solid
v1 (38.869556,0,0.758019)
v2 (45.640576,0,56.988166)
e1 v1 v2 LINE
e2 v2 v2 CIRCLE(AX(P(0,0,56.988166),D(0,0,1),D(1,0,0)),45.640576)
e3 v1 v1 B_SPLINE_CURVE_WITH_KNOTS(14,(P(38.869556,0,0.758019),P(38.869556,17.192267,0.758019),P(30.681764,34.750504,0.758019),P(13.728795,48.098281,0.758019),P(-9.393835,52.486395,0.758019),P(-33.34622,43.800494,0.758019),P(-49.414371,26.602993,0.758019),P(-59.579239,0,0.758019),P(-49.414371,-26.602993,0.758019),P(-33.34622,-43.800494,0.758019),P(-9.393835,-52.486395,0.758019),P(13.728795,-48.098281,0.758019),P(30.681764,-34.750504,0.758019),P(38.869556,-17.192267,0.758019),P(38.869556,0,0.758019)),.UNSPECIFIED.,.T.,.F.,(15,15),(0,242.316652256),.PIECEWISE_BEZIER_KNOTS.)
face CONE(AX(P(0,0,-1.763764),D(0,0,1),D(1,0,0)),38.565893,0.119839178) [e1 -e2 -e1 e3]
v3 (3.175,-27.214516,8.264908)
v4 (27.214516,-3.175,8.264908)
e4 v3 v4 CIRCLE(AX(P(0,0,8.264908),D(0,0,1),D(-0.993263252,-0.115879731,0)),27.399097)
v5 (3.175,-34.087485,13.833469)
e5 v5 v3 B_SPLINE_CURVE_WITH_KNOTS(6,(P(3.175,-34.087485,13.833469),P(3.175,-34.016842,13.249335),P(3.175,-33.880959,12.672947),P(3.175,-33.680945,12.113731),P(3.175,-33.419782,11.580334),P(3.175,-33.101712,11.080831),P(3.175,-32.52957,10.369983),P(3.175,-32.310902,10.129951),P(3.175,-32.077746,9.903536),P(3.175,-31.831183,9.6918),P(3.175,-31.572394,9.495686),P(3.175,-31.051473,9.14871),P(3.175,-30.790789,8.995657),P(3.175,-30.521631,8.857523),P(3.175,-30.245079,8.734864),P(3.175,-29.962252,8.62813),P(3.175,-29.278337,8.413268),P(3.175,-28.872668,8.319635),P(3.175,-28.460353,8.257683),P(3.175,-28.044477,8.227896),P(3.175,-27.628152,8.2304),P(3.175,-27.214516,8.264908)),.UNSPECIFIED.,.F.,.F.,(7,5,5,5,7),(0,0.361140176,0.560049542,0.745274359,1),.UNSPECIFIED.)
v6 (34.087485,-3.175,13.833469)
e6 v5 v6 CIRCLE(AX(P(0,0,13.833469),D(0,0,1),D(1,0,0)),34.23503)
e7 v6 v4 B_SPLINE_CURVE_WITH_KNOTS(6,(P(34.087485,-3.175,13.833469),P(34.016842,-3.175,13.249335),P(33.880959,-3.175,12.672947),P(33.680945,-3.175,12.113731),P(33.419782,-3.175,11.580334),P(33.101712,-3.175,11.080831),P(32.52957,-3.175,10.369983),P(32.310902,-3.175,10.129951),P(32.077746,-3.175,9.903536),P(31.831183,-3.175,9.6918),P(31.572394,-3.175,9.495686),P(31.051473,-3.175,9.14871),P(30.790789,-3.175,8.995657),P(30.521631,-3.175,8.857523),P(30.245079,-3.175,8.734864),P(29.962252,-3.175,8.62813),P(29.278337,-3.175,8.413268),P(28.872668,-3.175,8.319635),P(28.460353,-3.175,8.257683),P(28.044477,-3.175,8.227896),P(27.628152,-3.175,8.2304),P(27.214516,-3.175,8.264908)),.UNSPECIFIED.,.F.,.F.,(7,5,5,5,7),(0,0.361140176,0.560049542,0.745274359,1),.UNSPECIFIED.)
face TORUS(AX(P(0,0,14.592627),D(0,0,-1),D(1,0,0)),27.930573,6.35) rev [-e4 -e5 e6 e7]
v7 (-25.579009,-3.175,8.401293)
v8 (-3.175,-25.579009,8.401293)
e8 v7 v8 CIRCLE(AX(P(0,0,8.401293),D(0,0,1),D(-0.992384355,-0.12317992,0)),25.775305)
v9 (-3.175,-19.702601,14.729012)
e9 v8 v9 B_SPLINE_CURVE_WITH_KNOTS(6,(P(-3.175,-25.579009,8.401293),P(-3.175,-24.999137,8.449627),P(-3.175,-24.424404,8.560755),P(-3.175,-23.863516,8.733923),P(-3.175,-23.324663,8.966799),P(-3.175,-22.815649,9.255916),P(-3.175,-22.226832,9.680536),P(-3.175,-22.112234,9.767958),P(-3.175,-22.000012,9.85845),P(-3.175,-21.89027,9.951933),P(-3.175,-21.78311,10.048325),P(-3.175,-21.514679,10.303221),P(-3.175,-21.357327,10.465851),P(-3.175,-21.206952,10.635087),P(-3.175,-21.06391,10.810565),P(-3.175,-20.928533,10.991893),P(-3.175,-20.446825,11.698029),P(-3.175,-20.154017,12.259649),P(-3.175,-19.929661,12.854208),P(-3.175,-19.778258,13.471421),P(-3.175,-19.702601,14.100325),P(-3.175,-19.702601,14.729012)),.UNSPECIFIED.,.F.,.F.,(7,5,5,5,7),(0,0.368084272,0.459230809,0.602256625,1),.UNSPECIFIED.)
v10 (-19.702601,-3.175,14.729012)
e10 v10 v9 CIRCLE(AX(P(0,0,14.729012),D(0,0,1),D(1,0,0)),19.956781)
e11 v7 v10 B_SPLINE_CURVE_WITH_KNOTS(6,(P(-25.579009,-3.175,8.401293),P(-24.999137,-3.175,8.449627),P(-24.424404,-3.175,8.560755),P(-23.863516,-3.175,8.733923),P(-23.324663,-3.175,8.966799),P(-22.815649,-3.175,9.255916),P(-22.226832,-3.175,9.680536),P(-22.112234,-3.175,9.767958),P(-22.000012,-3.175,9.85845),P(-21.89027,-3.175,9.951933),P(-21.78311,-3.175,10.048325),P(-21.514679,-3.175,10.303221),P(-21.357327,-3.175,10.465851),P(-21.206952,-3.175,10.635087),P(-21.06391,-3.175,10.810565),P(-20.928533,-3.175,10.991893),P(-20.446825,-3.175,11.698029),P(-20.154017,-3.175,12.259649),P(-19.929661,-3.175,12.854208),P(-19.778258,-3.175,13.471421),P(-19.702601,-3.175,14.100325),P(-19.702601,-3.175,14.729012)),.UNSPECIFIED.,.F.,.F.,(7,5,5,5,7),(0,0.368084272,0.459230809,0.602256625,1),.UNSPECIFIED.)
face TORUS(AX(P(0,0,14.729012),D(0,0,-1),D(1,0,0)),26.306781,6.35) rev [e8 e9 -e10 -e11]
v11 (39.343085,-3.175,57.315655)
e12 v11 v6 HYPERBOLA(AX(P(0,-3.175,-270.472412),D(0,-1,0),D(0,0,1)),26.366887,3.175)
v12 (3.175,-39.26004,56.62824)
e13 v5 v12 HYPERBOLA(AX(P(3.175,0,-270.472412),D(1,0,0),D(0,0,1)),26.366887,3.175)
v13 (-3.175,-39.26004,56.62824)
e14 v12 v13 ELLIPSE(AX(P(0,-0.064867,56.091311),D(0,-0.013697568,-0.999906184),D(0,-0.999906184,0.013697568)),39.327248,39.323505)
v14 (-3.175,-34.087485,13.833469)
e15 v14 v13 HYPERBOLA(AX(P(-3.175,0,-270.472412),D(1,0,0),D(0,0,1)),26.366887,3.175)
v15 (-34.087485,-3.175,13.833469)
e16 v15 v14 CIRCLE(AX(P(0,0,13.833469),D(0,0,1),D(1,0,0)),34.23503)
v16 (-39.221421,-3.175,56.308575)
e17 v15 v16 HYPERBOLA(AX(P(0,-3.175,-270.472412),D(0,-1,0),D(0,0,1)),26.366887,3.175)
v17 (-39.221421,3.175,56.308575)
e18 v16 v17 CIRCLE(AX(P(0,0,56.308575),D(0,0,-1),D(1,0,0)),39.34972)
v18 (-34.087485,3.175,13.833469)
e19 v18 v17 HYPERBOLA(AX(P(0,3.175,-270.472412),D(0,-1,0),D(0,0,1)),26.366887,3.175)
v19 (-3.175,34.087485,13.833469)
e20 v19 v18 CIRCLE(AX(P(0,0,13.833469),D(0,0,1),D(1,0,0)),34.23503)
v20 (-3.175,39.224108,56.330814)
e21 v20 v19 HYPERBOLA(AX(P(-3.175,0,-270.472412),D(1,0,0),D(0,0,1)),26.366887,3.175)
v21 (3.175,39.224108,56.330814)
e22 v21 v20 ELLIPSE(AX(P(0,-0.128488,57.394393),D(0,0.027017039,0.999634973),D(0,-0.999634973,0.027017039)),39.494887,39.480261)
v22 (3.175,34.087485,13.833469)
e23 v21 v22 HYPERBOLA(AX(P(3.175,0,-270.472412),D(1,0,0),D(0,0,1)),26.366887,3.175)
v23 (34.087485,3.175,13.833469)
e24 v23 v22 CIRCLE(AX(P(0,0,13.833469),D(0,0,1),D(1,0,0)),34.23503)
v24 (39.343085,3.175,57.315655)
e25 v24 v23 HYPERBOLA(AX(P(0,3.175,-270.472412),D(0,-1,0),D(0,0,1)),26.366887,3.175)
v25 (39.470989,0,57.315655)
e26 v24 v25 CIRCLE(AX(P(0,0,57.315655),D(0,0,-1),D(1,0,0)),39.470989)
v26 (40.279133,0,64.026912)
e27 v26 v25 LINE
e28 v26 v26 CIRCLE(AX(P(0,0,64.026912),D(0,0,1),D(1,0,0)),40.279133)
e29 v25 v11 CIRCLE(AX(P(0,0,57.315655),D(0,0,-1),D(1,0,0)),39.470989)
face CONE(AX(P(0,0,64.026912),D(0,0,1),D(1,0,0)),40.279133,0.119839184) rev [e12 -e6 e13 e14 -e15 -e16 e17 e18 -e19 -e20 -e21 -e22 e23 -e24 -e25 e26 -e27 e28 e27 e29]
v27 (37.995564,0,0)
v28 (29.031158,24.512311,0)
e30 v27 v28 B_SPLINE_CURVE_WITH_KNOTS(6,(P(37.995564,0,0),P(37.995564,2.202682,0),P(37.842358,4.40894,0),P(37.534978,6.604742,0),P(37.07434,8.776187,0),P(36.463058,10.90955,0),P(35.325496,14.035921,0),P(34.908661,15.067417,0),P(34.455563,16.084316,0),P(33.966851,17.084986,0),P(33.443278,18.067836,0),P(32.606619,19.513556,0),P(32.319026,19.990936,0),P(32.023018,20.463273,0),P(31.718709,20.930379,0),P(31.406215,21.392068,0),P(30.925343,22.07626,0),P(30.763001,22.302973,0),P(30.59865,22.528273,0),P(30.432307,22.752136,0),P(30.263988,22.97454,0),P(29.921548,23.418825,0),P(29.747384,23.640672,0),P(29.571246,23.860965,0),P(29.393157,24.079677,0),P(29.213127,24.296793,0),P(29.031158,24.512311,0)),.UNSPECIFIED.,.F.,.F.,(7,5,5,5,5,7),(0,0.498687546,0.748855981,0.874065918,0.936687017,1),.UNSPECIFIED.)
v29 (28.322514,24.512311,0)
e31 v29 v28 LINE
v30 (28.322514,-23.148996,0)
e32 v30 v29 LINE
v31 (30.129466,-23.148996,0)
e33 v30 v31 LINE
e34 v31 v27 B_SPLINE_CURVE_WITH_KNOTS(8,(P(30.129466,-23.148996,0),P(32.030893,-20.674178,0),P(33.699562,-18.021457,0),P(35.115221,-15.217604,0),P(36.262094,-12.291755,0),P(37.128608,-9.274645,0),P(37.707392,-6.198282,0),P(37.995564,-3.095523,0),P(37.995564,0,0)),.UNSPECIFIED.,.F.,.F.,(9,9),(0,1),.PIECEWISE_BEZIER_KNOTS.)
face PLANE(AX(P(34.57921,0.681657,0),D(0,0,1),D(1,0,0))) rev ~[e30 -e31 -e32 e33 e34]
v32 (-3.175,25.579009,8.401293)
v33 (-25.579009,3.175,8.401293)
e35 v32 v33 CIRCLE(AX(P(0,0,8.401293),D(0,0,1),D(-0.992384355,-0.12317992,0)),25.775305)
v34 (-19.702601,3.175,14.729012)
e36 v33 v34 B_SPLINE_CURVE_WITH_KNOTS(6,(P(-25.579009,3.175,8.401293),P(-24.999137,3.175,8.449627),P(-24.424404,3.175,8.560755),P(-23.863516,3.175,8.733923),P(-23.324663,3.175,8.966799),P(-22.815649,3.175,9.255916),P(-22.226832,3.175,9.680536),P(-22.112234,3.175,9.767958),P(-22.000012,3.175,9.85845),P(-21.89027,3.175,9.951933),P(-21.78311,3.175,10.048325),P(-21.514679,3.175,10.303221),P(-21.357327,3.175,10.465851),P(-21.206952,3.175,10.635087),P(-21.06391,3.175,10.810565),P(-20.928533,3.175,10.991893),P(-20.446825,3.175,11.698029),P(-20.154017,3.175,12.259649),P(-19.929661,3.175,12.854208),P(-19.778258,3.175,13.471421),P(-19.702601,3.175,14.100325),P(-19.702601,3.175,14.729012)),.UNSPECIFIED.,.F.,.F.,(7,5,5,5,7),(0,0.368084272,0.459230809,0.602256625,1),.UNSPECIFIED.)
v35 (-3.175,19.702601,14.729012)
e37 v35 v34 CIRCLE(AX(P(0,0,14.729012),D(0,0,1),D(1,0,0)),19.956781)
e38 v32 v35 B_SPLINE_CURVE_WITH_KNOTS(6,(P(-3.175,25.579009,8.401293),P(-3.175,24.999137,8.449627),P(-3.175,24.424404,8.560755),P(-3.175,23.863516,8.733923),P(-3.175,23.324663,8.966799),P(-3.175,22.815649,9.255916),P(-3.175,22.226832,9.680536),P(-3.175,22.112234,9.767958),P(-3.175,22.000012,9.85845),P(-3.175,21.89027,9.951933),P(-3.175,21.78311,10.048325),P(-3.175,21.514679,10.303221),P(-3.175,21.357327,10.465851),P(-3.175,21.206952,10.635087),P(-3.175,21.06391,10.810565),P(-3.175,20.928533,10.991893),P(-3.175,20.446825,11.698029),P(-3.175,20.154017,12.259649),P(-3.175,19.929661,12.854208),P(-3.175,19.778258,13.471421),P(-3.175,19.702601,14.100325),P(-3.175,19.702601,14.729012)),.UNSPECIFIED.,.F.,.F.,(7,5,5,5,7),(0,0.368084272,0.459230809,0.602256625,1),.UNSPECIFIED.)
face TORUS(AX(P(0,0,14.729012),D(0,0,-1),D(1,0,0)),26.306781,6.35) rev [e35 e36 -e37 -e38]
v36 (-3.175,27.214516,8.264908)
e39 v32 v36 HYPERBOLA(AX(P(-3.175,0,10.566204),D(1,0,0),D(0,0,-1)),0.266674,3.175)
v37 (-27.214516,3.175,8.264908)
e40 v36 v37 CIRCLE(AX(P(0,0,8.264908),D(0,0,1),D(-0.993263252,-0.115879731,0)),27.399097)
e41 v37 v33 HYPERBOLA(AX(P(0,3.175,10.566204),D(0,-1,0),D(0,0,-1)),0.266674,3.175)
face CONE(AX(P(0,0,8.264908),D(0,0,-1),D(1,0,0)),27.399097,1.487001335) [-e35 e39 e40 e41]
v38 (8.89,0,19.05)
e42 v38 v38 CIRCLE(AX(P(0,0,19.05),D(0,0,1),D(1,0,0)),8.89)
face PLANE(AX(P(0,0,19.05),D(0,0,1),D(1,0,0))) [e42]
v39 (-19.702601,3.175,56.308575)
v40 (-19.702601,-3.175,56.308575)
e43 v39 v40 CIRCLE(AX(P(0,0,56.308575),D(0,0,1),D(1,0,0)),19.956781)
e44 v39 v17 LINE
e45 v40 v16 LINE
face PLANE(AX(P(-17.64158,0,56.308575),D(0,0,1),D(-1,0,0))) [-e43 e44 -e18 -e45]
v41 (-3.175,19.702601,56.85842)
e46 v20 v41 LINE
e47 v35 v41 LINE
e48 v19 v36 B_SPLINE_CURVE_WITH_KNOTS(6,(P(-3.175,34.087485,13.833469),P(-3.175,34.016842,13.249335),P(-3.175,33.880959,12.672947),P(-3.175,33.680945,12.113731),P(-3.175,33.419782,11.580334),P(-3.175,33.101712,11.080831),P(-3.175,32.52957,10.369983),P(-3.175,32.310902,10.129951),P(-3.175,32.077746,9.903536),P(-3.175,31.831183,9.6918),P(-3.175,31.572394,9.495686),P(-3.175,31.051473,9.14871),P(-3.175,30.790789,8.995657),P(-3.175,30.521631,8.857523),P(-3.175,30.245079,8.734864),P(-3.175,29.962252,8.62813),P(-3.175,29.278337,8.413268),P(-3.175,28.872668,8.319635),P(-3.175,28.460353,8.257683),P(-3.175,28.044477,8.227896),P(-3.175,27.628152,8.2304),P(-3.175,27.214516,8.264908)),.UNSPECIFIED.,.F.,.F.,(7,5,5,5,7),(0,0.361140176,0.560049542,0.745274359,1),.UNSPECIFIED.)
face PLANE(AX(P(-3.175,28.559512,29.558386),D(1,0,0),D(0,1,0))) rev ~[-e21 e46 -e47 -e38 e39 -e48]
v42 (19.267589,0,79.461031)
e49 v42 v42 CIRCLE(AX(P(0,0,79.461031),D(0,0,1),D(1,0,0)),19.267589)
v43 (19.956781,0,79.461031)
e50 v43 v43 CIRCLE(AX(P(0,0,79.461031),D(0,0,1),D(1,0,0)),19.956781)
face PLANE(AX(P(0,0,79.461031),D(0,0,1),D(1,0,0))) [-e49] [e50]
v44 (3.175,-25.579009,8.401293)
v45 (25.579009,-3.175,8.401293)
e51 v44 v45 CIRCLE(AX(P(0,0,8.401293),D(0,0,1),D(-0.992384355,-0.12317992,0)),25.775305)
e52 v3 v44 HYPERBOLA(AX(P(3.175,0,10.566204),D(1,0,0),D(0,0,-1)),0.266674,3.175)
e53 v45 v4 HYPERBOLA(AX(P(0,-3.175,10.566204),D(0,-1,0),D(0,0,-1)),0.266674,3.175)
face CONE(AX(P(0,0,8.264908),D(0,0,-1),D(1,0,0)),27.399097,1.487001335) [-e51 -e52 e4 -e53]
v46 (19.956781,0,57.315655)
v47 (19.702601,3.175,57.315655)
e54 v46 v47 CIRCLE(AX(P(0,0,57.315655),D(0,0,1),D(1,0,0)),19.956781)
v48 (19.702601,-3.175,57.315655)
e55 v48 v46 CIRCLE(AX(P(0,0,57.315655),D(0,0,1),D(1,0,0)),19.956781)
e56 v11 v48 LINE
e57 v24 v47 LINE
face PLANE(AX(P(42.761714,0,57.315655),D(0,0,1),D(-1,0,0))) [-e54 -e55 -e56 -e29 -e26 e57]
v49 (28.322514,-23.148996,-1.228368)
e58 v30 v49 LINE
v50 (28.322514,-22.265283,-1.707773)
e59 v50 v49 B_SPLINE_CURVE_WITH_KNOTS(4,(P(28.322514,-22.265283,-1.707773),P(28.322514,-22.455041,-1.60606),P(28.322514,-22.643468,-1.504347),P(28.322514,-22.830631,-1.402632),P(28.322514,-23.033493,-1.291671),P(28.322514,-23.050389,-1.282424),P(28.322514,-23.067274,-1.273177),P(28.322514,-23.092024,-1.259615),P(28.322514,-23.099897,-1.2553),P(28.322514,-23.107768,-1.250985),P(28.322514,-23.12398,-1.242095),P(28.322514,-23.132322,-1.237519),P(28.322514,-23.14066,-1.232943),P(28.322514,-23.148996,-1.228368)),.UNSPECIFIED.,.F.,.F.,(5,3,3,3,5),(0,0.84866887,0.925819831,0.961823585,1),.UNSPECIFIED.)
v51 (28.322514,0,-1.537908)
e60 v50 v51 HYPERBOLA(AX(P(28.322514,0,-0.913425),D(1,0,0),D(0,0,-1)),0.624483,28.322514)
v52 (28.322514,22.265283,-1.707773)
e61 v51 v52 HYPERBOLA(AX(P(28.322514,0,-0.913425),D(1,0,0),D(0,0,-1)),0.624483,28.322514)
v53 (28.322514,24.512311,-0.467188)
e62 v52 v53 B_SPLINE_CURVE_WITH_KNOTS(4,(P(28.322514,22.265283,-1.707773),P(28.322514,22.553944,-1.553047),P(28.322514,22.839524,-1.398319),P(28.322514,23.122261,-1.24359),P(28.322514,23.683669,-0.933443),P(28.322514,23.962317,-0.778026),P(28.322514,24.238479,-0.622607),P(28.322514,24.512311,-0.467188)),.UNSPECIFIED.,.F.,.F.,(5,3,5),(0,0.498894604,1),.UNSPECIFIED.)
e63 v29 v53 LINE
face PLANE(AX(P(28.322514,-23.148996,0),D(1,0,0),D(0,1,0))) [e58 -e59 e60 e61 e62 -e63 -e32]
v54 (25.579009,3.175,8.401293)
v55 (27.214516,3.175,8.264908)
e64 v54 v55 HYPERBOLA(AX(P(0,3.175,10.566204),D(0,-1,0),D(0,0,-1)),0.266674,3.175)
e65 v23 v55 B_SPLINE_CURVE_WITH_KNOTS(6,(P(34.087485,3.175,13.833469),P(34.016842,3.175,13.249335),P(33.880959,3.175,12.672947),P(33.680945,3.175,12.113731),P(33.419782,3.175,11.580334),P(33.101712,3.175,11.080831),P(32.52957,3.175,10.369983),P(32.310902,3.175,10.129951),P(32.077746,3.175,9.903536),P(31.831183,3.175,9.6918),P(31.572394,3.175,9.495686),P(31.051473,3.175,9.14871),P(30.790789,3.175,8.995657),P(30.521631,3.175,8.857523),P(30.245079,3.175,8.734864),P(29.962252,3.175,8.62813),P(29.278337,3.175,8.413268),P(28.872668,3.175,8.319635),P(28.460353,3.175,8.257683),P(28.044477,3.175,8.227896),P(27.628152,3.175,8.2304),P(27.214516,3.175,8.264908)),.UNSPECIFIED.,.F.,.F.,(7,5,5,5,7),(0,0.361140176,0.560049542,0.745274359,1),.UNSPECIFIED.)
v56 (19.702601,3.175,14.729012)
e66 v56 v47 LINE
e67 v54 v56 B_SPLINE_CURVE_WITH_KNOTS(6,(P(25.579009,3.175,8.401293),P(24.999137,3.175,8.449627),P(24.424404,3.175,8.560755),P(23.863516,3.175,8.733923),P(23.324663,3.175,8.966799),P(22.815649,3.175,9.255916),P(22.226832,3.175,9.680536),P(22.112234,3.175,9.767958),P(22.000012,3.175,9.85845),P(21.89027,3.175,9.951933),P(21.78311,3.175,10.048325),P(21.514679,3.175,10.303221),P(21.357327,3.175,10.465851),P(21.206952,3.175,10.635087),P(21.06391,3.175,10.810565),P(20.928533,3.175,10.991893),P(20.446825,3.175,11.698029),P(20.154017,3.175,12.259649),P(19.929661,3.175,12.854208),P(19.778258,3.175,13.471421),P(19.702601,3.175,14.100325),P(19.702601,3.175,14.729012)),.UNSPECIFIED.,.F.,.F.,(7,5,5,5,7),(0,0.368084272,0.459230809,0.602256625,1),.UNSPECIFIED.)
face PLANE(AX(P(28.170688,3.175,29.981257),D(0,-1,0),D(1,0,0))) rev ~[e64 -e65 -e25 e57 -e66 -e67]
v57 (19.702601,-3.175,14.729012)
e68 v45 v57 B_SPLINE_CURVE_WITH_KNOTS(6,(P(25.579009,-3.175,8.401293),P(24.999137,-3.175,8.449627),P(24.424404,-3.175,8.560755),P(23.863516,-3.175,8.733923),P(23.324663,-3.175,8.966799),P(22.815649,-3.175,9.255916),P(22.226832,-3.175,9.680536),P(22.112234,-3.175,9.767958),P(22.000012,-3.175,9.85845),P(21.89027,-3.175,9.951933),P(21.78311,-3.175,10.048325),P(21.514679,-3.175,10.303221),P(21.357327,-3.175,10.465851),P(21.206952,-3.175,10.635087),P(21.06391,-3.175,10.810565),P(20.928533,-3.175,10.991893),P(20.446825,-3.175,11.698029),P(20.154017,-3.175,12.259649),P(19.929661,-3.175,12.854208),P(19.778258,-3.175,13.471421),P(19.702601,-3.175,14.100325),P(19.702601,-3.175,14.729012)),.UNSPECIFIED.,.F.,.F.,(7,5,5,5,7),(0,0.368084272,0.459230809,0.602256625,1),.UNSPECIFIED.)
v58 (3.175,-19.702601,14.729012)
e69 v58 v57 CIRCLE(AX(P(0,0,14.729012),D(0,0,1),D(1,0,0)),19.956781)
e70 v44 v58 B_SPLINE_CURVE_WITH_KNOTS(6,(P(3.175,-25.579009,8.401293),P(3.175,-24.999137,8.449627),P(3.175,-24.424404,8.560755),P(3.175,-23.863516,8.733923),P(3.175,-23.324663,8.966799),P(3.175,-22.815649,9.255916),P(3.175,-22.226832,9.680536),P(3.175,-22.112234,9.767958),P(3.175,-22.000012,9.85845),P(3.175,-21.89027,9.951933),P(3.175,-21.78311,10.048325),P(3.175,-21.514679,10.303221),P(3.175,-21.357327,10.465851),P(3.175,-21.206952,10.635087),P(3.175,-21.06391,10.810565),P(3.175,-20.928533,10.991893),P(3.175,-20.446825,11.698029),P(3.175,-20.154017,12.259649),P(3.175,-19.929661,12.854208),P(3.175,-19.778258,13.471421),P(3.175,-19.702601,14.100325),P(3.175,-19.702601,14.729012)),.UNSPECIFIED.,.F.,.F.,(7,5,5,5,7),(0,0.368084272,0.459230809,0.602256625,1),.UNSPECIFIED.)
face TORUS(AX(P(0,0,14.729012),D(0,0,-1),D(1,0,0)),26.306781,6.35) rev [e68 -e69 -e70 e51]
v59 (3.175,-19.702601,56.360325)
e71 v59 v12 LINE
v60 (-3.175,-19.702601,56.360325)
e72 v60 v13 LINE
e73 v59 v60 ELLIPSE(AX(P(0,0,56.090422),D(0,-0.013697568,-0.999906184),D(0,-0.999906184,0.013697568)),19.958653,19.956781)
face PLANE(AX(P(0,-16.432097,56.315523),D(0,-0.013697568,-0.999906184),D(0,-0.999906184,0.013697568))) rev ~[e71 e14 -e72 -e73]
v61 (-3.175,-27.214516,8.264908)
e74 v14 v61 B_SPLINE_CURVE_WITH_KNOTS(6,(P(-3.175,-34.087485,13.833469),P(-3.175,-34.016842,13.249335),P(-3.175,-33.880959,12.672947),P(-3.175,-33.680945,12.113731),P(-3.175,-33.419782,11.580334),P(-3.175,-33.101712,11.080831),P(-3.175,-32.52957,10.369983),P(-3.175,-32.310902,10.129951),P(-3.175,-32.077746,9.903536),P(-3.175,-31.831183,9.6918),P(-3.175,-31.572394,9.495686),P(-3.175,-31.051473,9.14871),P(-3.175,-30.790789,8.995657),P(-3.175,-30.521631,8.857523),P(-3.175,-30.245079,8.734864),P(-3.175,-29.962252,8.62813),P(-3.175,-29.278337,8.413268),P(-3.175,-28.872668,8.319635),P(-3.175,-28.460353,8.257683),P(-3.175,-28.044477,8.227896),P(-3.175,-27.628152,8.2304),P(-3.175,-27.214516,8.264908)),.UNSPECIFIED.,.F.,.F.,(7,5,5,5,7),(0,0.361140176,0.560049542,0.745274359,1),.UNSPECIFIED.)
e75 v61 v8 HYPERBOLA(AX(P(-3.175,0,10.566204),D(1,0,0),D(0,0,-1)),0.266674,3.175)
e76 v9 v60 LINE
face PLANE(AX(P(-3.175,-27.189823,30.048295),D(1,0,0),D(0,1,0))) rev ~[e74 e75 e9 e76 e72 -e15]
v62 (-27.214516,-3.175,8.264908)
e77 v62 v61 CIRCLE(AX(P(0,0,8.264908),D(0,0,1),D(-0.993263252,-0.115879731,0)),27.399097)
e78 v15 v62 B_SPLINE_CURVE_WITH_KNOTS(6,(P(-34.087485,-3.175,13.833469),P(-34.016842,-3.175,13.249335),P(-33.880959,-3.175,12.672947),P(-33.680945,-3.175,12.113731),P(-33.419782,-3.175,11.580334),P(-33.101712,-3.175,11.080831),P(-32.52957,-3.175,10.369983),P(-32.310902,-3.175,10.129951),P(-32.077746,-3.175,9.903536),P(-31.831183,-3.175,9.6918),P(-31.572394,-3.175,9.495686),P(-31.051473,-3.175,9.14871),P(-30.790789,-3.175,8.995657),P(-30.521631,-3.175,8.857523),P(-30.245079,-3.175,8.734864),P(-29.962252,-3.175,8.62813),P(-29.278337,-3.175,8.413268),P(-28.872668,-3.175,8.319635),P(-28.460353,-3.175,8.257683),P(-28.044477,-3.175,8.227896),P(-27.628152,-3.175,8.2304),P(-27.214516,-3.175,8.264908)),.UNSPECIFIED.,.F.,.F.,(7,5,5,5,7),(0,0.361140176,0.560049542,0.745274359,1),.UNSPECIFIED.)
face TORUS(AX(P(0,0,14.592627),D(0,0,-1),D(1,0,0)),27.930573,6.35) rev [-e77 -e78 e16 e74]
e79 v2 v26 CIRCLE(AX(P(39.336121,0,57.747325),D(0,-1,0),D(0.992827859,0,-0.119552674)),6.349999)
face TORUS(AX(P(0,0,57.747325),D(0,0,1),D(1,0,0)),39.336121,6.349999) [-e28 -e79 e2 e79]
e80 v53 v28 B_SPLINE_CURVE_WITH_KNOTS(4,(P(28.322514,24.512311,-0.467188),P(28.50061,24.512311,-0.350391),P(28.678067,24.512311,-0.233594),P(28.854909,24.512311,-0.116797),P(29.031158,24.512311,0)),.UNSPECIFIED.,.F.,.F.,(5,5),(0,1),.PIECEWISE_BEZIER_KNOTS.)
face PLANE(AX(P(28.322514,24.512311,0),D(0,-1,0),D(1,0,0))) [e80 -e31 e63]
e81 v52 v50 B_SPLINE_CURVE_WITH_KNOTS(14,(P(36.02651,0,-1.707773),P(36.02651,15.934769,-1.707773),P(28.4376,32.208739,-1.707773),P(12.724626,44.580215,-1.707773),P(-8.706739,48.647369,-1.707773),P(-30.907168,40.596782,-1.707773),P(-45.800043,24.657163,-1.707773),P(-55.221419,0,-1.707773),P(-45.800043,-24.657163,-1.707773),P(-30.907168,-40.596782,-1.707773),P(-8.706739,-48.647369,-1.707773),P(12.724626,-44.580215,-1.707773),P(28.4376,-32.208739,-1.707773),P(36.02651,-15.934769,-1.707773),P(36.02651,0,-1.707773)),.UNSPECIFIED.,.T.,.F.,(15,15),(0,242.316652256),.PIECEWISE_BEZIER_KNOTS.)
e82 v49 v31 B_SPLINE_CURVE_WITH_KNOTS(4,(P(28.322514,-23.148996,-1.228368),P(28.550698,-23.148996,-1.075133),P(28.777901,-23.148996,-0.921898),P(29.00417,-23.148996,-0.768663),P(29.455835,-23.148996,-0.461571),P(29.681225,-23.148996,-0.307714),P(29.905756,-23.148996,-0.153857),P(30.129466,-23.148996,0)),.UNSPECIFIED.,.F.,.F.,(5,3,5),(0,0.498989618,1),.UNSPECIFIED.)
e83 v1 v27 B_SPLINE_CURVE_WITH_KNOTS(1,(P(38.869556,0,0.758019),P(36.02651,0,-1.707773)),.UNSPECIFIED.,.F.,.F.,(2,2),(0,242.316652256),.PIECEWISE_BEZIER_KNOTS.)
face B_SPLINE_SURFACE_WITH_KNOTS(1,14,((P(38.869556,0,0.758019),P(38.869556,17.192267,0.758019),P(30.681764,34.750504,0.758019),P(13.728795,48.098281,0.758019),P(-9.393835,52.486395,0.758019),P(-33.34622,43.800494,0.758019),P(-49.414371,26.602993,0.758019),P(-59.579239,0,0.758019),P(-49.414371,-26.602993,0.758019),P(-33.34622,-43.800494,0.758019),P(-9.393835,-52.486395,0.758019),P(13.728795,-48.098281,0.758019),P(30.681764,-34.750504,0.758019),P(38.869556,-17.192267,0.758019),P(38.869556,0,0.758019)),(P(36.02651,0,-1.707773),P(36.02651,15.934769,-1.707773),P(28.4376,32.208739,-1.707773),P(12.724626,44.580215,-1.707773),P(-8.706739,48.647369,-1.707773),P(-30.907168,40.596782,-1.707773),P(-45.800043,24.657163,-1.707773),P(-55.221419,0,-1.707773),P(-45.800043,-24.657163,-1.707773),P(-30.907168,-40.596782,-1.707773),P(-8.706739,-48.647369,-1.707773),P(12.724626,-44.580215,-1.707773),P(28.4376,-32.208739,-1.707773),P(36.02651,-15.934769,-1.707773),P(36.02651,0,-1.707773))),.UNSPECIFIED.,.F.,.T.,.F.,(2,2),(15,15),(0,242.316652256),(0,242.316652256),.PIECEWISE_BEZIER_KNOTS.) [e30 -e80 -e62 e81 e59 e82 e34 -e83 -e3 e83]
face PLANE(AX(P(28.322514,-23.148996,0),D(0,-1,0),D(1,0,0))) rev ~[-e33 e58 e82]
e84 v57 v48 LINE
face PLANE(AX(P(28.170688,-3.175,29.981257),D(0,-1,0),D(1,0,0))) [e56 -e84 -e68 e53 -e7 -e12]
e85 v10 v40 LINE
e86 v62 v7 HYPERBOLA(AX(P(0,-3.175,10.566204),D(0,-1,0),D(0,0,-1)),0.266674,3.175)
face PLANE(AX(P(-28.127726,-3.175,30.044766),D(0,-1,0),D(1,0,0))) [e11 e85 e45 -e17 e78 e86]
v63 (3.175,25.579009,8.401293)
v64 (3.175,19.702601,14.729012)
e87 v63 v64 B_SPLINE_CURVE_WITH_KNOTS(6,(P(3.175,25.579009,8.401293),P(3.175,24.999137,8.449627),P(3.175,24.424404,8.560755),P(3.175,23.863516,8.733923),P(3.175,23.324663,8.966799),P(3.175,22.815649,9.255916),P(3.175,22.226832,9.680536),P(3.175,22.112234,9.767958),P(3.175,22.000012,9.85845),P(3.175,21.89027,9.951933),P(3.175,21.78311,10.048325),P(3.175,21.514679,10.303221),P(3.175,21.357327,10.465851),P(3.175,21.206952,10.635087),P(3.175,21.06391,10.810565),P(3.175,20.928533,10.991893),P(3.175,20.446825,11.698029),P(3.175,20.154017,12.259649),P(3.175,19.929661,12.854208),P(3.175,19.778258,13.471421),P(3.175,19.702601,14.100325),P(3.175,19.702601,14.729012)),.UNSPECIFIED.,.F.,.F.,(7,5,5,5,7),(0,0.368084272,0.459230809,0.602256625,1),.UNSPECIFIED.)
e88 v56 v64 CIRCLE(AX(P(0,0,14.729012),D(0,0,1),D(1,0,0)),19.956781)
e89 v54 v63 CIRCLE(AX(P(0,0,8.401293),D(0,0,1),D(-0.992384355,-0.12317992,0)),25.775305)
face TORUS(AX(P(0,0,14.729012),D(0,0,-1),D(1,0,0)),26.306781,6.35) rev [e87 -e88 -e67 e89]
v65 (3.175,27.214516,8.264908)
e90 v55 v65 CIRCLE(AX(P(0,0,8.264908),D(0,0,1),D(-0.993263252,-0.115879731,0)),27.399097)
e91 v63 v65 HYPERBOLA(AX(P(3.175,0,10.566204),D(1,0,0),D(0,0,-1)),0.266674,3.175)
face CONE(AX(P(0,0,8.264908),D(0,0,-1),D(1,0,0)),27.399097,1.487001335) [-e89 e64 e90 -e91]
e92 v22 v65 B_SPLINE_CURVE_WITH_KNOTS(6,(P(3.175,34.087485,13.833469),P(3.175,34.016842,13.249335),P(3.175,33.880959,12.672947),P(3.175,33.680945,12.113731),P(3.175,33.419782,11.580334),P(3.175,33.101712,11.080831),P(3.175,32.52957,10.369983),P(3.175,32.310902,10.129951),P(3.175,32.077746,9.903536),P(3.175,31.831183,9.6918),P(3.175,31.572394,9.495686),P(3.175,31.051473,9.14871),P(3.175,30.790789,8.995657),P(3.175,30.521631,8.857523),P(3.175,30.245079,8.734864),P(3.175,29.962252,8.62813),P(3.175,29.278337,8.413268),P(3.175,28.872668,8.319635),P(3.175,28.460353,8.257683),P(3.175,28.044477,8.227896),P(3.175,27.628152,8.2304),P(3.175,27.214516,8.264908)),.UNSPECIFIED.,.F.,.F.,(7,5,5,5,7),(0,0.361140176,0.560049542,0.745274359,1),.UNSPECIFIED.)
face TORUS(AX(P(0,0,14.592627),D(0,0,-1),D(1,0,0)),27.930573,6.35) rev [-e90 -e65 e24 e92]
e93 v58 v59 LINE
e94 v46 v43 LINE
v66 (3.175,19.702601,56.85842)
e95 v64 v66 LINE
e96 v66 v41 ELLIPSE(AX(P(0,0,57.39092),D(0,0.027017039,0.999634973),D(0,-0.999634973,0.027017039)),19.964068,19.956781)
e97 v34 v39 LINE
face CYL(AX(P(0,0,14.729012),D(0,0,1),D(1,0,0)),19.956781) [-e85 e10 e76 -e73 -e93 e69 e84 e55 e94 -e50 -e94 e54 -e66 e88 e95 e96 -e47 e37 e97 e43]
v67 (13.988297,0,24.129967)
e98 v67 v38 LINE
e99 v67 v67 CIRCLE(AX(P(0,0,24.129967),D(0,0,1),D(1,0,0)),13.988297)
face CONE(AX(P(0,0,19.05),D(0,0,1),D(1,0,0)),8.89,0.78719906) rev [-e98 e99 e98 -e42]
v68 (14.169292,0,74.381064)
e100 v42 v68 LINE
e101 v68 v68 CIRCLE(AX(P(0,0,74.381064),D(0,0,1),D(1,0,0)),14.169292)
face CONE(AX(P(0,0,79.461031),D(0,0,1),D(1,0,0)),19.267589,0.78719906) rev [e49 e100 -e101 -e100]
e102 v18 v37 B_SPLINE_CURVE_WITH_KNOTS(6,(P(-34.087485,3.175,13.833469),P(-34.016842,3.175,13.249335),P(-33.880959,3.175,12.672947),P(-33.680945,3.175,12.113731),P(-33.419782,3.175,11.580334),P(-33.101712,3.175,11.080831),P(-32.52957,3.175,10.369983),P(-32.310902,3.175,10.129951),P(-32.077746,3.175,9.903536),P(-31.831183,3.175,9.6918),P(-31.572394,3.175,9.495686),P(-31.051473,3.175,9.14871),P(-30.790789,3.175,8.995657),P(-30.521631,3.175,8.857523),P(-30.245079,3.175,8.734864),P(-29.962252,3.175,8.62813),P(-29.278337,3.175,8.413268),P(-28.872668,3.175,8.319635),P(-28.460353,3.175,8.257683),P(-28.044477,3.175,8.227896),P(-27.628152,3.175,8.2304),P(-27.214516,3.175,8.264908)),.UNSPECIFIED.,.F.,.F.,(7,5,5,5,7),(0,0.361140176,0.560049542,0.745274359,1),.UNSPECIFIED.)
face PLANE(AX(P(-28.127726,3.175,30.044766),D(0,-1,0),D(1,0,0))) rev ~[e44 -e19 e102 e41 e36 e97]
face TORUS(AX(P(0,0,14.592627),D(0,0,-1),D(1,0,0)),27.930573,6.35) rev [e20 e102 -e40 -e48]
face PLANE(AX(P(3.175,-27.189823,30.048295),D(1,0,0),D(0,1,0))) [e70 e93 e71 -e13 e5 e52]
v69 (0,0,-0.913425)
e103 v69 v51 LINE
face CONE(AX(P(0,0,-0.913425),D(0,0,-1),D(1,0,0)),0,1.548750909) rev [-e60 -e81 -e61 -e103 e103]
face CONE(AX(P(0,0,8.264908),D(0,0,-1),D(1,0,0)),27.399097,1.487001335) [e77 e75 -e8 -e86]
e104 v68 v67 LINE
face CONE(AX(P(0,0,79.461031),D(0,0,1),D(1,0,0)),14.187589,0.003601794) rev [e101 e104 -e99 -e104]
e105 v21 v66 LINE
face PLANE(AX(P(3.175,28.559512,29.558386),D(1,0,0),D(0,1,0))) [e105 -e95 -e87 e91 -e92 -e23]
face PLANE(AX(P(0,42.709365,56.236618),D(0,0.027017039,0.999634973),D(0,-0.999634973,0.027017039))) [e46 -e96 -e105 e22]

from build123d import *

# Parameters (mm, degrees)
F3_DEPTH  = 3.175
F5_DEPTH  = 3.175
F7_DEPTH  = 3.175
F8_SIZE   = 2.54
F9_SIZE   = 5.08
F10_W     = 12.513392
F10_H     = 47.661307
F11_DEPTH = 25.4


with BuildPart() as f1:
    # F0 (on Front) → F1 (revolve)
    with BuildSketch(Plane.XZ):
        with BuildLine():
            Line((0, 19.05), (0, 0))
            Line((0, 0), (0, -0.913425))
            Line((0, -0.913425), (38.565893, -1.763764))
            Line((38.565893, -1.763764), (45.640576, 56.988166))
            ThreePointArc((45.640576, 56.988166), (44.387599, 61.595058), (40.279133, 64.026912))
            Line((40.279133, 64.026912), (34.23503, 13.833469))
            ThreePointArc((34.23503, 13.833469), (31.941065, 9.669371), (27.399097, 8.264908))
            Line((27.399097, 8.264908), (25.775305, 8.401293))
            ThreePointArc((25.775305, 8.401293), (21.632523, 10.430895), (19.956781, 14.729012))
            Line((19.956781, 14.729012), (19.956781, 28.661031))
            Line((19.956781, 28.661031), (19.956781, 79.461031))
            Line((19.956781, 79.461031), (14.187589, 79.461031))
            Line((14.187589, 79.461031), (13.97, 19.05))
            Line((13.97, 19.05), (0, 19.05))
        make_face()
    revolve(axis=Axis((0, 0, 9.525), (0, 0, 1)))

    # F2 (on Front) → F3 (join, symmetric)
    with BuildSketch(Plane.XZ):
        Polygon((-17.64158, 56.308575), (-40.932791, 56.308575), (-36.213137, 2.431753), (-36.199561, 2.276776), (-17.64158, 1.878101), align=None)
    extrude(amount=F3_DEPTH, both=True)

    # F4 (on Front) → F5 (join, symmetric)
    with BuildSketch(Plane.XZ):
        Polygon((42.761714, 57.315655), (16.789319, 57.315655), (16.789319, 0.20661), (35.935931, 0.20661), align=None)
    extrude(amount=F5_DEPTH, both=True)

    # F6 (on Right) → F7 (join, symmetric)
    with BuildSketch(Plane.YZ):
        Polygon((-16.432097, 1.235654), (-16.432097, 56.315523), (-41.003351, 56.652121), (-34.406153, 1.235654), align=None)
        Polygon((42.709365, 56.236618), (17.860977, 56.908193), (17.860977, 0.033839), (35.461162, -0.207263), align=None)
    extrude(amount=F7_DEPTH, both=True)

    # F8
    f8_edges = [f1.edges().sort_by_distance(p)[0] for p in [
        (-38.565893, 0, -1.763764),
    ]]
    chamfer(f8_edges, length=F8_SIZE)

    # F9
    f9_edges = [f1.edges().sort_by_distance(p)[0] for p in [
        (-14.187589, 0, 79.461031),
        (-13.97, 0, 19.05),
        (14.078795, 0, 49.255515),
    ]]
    chamfer(f9_edges, length=F9_SIZE)

    # F10 (on Top) → F11 (cut)
    with BuildSketch(Plane.XY):
        with Locations((34.57921, 0.681657)):
            Rectangle(F10_W, F10_H)
    extrude(amount=-F11_DEPTH, mode=Mode.SUBTRACT)


solid = f1.part
